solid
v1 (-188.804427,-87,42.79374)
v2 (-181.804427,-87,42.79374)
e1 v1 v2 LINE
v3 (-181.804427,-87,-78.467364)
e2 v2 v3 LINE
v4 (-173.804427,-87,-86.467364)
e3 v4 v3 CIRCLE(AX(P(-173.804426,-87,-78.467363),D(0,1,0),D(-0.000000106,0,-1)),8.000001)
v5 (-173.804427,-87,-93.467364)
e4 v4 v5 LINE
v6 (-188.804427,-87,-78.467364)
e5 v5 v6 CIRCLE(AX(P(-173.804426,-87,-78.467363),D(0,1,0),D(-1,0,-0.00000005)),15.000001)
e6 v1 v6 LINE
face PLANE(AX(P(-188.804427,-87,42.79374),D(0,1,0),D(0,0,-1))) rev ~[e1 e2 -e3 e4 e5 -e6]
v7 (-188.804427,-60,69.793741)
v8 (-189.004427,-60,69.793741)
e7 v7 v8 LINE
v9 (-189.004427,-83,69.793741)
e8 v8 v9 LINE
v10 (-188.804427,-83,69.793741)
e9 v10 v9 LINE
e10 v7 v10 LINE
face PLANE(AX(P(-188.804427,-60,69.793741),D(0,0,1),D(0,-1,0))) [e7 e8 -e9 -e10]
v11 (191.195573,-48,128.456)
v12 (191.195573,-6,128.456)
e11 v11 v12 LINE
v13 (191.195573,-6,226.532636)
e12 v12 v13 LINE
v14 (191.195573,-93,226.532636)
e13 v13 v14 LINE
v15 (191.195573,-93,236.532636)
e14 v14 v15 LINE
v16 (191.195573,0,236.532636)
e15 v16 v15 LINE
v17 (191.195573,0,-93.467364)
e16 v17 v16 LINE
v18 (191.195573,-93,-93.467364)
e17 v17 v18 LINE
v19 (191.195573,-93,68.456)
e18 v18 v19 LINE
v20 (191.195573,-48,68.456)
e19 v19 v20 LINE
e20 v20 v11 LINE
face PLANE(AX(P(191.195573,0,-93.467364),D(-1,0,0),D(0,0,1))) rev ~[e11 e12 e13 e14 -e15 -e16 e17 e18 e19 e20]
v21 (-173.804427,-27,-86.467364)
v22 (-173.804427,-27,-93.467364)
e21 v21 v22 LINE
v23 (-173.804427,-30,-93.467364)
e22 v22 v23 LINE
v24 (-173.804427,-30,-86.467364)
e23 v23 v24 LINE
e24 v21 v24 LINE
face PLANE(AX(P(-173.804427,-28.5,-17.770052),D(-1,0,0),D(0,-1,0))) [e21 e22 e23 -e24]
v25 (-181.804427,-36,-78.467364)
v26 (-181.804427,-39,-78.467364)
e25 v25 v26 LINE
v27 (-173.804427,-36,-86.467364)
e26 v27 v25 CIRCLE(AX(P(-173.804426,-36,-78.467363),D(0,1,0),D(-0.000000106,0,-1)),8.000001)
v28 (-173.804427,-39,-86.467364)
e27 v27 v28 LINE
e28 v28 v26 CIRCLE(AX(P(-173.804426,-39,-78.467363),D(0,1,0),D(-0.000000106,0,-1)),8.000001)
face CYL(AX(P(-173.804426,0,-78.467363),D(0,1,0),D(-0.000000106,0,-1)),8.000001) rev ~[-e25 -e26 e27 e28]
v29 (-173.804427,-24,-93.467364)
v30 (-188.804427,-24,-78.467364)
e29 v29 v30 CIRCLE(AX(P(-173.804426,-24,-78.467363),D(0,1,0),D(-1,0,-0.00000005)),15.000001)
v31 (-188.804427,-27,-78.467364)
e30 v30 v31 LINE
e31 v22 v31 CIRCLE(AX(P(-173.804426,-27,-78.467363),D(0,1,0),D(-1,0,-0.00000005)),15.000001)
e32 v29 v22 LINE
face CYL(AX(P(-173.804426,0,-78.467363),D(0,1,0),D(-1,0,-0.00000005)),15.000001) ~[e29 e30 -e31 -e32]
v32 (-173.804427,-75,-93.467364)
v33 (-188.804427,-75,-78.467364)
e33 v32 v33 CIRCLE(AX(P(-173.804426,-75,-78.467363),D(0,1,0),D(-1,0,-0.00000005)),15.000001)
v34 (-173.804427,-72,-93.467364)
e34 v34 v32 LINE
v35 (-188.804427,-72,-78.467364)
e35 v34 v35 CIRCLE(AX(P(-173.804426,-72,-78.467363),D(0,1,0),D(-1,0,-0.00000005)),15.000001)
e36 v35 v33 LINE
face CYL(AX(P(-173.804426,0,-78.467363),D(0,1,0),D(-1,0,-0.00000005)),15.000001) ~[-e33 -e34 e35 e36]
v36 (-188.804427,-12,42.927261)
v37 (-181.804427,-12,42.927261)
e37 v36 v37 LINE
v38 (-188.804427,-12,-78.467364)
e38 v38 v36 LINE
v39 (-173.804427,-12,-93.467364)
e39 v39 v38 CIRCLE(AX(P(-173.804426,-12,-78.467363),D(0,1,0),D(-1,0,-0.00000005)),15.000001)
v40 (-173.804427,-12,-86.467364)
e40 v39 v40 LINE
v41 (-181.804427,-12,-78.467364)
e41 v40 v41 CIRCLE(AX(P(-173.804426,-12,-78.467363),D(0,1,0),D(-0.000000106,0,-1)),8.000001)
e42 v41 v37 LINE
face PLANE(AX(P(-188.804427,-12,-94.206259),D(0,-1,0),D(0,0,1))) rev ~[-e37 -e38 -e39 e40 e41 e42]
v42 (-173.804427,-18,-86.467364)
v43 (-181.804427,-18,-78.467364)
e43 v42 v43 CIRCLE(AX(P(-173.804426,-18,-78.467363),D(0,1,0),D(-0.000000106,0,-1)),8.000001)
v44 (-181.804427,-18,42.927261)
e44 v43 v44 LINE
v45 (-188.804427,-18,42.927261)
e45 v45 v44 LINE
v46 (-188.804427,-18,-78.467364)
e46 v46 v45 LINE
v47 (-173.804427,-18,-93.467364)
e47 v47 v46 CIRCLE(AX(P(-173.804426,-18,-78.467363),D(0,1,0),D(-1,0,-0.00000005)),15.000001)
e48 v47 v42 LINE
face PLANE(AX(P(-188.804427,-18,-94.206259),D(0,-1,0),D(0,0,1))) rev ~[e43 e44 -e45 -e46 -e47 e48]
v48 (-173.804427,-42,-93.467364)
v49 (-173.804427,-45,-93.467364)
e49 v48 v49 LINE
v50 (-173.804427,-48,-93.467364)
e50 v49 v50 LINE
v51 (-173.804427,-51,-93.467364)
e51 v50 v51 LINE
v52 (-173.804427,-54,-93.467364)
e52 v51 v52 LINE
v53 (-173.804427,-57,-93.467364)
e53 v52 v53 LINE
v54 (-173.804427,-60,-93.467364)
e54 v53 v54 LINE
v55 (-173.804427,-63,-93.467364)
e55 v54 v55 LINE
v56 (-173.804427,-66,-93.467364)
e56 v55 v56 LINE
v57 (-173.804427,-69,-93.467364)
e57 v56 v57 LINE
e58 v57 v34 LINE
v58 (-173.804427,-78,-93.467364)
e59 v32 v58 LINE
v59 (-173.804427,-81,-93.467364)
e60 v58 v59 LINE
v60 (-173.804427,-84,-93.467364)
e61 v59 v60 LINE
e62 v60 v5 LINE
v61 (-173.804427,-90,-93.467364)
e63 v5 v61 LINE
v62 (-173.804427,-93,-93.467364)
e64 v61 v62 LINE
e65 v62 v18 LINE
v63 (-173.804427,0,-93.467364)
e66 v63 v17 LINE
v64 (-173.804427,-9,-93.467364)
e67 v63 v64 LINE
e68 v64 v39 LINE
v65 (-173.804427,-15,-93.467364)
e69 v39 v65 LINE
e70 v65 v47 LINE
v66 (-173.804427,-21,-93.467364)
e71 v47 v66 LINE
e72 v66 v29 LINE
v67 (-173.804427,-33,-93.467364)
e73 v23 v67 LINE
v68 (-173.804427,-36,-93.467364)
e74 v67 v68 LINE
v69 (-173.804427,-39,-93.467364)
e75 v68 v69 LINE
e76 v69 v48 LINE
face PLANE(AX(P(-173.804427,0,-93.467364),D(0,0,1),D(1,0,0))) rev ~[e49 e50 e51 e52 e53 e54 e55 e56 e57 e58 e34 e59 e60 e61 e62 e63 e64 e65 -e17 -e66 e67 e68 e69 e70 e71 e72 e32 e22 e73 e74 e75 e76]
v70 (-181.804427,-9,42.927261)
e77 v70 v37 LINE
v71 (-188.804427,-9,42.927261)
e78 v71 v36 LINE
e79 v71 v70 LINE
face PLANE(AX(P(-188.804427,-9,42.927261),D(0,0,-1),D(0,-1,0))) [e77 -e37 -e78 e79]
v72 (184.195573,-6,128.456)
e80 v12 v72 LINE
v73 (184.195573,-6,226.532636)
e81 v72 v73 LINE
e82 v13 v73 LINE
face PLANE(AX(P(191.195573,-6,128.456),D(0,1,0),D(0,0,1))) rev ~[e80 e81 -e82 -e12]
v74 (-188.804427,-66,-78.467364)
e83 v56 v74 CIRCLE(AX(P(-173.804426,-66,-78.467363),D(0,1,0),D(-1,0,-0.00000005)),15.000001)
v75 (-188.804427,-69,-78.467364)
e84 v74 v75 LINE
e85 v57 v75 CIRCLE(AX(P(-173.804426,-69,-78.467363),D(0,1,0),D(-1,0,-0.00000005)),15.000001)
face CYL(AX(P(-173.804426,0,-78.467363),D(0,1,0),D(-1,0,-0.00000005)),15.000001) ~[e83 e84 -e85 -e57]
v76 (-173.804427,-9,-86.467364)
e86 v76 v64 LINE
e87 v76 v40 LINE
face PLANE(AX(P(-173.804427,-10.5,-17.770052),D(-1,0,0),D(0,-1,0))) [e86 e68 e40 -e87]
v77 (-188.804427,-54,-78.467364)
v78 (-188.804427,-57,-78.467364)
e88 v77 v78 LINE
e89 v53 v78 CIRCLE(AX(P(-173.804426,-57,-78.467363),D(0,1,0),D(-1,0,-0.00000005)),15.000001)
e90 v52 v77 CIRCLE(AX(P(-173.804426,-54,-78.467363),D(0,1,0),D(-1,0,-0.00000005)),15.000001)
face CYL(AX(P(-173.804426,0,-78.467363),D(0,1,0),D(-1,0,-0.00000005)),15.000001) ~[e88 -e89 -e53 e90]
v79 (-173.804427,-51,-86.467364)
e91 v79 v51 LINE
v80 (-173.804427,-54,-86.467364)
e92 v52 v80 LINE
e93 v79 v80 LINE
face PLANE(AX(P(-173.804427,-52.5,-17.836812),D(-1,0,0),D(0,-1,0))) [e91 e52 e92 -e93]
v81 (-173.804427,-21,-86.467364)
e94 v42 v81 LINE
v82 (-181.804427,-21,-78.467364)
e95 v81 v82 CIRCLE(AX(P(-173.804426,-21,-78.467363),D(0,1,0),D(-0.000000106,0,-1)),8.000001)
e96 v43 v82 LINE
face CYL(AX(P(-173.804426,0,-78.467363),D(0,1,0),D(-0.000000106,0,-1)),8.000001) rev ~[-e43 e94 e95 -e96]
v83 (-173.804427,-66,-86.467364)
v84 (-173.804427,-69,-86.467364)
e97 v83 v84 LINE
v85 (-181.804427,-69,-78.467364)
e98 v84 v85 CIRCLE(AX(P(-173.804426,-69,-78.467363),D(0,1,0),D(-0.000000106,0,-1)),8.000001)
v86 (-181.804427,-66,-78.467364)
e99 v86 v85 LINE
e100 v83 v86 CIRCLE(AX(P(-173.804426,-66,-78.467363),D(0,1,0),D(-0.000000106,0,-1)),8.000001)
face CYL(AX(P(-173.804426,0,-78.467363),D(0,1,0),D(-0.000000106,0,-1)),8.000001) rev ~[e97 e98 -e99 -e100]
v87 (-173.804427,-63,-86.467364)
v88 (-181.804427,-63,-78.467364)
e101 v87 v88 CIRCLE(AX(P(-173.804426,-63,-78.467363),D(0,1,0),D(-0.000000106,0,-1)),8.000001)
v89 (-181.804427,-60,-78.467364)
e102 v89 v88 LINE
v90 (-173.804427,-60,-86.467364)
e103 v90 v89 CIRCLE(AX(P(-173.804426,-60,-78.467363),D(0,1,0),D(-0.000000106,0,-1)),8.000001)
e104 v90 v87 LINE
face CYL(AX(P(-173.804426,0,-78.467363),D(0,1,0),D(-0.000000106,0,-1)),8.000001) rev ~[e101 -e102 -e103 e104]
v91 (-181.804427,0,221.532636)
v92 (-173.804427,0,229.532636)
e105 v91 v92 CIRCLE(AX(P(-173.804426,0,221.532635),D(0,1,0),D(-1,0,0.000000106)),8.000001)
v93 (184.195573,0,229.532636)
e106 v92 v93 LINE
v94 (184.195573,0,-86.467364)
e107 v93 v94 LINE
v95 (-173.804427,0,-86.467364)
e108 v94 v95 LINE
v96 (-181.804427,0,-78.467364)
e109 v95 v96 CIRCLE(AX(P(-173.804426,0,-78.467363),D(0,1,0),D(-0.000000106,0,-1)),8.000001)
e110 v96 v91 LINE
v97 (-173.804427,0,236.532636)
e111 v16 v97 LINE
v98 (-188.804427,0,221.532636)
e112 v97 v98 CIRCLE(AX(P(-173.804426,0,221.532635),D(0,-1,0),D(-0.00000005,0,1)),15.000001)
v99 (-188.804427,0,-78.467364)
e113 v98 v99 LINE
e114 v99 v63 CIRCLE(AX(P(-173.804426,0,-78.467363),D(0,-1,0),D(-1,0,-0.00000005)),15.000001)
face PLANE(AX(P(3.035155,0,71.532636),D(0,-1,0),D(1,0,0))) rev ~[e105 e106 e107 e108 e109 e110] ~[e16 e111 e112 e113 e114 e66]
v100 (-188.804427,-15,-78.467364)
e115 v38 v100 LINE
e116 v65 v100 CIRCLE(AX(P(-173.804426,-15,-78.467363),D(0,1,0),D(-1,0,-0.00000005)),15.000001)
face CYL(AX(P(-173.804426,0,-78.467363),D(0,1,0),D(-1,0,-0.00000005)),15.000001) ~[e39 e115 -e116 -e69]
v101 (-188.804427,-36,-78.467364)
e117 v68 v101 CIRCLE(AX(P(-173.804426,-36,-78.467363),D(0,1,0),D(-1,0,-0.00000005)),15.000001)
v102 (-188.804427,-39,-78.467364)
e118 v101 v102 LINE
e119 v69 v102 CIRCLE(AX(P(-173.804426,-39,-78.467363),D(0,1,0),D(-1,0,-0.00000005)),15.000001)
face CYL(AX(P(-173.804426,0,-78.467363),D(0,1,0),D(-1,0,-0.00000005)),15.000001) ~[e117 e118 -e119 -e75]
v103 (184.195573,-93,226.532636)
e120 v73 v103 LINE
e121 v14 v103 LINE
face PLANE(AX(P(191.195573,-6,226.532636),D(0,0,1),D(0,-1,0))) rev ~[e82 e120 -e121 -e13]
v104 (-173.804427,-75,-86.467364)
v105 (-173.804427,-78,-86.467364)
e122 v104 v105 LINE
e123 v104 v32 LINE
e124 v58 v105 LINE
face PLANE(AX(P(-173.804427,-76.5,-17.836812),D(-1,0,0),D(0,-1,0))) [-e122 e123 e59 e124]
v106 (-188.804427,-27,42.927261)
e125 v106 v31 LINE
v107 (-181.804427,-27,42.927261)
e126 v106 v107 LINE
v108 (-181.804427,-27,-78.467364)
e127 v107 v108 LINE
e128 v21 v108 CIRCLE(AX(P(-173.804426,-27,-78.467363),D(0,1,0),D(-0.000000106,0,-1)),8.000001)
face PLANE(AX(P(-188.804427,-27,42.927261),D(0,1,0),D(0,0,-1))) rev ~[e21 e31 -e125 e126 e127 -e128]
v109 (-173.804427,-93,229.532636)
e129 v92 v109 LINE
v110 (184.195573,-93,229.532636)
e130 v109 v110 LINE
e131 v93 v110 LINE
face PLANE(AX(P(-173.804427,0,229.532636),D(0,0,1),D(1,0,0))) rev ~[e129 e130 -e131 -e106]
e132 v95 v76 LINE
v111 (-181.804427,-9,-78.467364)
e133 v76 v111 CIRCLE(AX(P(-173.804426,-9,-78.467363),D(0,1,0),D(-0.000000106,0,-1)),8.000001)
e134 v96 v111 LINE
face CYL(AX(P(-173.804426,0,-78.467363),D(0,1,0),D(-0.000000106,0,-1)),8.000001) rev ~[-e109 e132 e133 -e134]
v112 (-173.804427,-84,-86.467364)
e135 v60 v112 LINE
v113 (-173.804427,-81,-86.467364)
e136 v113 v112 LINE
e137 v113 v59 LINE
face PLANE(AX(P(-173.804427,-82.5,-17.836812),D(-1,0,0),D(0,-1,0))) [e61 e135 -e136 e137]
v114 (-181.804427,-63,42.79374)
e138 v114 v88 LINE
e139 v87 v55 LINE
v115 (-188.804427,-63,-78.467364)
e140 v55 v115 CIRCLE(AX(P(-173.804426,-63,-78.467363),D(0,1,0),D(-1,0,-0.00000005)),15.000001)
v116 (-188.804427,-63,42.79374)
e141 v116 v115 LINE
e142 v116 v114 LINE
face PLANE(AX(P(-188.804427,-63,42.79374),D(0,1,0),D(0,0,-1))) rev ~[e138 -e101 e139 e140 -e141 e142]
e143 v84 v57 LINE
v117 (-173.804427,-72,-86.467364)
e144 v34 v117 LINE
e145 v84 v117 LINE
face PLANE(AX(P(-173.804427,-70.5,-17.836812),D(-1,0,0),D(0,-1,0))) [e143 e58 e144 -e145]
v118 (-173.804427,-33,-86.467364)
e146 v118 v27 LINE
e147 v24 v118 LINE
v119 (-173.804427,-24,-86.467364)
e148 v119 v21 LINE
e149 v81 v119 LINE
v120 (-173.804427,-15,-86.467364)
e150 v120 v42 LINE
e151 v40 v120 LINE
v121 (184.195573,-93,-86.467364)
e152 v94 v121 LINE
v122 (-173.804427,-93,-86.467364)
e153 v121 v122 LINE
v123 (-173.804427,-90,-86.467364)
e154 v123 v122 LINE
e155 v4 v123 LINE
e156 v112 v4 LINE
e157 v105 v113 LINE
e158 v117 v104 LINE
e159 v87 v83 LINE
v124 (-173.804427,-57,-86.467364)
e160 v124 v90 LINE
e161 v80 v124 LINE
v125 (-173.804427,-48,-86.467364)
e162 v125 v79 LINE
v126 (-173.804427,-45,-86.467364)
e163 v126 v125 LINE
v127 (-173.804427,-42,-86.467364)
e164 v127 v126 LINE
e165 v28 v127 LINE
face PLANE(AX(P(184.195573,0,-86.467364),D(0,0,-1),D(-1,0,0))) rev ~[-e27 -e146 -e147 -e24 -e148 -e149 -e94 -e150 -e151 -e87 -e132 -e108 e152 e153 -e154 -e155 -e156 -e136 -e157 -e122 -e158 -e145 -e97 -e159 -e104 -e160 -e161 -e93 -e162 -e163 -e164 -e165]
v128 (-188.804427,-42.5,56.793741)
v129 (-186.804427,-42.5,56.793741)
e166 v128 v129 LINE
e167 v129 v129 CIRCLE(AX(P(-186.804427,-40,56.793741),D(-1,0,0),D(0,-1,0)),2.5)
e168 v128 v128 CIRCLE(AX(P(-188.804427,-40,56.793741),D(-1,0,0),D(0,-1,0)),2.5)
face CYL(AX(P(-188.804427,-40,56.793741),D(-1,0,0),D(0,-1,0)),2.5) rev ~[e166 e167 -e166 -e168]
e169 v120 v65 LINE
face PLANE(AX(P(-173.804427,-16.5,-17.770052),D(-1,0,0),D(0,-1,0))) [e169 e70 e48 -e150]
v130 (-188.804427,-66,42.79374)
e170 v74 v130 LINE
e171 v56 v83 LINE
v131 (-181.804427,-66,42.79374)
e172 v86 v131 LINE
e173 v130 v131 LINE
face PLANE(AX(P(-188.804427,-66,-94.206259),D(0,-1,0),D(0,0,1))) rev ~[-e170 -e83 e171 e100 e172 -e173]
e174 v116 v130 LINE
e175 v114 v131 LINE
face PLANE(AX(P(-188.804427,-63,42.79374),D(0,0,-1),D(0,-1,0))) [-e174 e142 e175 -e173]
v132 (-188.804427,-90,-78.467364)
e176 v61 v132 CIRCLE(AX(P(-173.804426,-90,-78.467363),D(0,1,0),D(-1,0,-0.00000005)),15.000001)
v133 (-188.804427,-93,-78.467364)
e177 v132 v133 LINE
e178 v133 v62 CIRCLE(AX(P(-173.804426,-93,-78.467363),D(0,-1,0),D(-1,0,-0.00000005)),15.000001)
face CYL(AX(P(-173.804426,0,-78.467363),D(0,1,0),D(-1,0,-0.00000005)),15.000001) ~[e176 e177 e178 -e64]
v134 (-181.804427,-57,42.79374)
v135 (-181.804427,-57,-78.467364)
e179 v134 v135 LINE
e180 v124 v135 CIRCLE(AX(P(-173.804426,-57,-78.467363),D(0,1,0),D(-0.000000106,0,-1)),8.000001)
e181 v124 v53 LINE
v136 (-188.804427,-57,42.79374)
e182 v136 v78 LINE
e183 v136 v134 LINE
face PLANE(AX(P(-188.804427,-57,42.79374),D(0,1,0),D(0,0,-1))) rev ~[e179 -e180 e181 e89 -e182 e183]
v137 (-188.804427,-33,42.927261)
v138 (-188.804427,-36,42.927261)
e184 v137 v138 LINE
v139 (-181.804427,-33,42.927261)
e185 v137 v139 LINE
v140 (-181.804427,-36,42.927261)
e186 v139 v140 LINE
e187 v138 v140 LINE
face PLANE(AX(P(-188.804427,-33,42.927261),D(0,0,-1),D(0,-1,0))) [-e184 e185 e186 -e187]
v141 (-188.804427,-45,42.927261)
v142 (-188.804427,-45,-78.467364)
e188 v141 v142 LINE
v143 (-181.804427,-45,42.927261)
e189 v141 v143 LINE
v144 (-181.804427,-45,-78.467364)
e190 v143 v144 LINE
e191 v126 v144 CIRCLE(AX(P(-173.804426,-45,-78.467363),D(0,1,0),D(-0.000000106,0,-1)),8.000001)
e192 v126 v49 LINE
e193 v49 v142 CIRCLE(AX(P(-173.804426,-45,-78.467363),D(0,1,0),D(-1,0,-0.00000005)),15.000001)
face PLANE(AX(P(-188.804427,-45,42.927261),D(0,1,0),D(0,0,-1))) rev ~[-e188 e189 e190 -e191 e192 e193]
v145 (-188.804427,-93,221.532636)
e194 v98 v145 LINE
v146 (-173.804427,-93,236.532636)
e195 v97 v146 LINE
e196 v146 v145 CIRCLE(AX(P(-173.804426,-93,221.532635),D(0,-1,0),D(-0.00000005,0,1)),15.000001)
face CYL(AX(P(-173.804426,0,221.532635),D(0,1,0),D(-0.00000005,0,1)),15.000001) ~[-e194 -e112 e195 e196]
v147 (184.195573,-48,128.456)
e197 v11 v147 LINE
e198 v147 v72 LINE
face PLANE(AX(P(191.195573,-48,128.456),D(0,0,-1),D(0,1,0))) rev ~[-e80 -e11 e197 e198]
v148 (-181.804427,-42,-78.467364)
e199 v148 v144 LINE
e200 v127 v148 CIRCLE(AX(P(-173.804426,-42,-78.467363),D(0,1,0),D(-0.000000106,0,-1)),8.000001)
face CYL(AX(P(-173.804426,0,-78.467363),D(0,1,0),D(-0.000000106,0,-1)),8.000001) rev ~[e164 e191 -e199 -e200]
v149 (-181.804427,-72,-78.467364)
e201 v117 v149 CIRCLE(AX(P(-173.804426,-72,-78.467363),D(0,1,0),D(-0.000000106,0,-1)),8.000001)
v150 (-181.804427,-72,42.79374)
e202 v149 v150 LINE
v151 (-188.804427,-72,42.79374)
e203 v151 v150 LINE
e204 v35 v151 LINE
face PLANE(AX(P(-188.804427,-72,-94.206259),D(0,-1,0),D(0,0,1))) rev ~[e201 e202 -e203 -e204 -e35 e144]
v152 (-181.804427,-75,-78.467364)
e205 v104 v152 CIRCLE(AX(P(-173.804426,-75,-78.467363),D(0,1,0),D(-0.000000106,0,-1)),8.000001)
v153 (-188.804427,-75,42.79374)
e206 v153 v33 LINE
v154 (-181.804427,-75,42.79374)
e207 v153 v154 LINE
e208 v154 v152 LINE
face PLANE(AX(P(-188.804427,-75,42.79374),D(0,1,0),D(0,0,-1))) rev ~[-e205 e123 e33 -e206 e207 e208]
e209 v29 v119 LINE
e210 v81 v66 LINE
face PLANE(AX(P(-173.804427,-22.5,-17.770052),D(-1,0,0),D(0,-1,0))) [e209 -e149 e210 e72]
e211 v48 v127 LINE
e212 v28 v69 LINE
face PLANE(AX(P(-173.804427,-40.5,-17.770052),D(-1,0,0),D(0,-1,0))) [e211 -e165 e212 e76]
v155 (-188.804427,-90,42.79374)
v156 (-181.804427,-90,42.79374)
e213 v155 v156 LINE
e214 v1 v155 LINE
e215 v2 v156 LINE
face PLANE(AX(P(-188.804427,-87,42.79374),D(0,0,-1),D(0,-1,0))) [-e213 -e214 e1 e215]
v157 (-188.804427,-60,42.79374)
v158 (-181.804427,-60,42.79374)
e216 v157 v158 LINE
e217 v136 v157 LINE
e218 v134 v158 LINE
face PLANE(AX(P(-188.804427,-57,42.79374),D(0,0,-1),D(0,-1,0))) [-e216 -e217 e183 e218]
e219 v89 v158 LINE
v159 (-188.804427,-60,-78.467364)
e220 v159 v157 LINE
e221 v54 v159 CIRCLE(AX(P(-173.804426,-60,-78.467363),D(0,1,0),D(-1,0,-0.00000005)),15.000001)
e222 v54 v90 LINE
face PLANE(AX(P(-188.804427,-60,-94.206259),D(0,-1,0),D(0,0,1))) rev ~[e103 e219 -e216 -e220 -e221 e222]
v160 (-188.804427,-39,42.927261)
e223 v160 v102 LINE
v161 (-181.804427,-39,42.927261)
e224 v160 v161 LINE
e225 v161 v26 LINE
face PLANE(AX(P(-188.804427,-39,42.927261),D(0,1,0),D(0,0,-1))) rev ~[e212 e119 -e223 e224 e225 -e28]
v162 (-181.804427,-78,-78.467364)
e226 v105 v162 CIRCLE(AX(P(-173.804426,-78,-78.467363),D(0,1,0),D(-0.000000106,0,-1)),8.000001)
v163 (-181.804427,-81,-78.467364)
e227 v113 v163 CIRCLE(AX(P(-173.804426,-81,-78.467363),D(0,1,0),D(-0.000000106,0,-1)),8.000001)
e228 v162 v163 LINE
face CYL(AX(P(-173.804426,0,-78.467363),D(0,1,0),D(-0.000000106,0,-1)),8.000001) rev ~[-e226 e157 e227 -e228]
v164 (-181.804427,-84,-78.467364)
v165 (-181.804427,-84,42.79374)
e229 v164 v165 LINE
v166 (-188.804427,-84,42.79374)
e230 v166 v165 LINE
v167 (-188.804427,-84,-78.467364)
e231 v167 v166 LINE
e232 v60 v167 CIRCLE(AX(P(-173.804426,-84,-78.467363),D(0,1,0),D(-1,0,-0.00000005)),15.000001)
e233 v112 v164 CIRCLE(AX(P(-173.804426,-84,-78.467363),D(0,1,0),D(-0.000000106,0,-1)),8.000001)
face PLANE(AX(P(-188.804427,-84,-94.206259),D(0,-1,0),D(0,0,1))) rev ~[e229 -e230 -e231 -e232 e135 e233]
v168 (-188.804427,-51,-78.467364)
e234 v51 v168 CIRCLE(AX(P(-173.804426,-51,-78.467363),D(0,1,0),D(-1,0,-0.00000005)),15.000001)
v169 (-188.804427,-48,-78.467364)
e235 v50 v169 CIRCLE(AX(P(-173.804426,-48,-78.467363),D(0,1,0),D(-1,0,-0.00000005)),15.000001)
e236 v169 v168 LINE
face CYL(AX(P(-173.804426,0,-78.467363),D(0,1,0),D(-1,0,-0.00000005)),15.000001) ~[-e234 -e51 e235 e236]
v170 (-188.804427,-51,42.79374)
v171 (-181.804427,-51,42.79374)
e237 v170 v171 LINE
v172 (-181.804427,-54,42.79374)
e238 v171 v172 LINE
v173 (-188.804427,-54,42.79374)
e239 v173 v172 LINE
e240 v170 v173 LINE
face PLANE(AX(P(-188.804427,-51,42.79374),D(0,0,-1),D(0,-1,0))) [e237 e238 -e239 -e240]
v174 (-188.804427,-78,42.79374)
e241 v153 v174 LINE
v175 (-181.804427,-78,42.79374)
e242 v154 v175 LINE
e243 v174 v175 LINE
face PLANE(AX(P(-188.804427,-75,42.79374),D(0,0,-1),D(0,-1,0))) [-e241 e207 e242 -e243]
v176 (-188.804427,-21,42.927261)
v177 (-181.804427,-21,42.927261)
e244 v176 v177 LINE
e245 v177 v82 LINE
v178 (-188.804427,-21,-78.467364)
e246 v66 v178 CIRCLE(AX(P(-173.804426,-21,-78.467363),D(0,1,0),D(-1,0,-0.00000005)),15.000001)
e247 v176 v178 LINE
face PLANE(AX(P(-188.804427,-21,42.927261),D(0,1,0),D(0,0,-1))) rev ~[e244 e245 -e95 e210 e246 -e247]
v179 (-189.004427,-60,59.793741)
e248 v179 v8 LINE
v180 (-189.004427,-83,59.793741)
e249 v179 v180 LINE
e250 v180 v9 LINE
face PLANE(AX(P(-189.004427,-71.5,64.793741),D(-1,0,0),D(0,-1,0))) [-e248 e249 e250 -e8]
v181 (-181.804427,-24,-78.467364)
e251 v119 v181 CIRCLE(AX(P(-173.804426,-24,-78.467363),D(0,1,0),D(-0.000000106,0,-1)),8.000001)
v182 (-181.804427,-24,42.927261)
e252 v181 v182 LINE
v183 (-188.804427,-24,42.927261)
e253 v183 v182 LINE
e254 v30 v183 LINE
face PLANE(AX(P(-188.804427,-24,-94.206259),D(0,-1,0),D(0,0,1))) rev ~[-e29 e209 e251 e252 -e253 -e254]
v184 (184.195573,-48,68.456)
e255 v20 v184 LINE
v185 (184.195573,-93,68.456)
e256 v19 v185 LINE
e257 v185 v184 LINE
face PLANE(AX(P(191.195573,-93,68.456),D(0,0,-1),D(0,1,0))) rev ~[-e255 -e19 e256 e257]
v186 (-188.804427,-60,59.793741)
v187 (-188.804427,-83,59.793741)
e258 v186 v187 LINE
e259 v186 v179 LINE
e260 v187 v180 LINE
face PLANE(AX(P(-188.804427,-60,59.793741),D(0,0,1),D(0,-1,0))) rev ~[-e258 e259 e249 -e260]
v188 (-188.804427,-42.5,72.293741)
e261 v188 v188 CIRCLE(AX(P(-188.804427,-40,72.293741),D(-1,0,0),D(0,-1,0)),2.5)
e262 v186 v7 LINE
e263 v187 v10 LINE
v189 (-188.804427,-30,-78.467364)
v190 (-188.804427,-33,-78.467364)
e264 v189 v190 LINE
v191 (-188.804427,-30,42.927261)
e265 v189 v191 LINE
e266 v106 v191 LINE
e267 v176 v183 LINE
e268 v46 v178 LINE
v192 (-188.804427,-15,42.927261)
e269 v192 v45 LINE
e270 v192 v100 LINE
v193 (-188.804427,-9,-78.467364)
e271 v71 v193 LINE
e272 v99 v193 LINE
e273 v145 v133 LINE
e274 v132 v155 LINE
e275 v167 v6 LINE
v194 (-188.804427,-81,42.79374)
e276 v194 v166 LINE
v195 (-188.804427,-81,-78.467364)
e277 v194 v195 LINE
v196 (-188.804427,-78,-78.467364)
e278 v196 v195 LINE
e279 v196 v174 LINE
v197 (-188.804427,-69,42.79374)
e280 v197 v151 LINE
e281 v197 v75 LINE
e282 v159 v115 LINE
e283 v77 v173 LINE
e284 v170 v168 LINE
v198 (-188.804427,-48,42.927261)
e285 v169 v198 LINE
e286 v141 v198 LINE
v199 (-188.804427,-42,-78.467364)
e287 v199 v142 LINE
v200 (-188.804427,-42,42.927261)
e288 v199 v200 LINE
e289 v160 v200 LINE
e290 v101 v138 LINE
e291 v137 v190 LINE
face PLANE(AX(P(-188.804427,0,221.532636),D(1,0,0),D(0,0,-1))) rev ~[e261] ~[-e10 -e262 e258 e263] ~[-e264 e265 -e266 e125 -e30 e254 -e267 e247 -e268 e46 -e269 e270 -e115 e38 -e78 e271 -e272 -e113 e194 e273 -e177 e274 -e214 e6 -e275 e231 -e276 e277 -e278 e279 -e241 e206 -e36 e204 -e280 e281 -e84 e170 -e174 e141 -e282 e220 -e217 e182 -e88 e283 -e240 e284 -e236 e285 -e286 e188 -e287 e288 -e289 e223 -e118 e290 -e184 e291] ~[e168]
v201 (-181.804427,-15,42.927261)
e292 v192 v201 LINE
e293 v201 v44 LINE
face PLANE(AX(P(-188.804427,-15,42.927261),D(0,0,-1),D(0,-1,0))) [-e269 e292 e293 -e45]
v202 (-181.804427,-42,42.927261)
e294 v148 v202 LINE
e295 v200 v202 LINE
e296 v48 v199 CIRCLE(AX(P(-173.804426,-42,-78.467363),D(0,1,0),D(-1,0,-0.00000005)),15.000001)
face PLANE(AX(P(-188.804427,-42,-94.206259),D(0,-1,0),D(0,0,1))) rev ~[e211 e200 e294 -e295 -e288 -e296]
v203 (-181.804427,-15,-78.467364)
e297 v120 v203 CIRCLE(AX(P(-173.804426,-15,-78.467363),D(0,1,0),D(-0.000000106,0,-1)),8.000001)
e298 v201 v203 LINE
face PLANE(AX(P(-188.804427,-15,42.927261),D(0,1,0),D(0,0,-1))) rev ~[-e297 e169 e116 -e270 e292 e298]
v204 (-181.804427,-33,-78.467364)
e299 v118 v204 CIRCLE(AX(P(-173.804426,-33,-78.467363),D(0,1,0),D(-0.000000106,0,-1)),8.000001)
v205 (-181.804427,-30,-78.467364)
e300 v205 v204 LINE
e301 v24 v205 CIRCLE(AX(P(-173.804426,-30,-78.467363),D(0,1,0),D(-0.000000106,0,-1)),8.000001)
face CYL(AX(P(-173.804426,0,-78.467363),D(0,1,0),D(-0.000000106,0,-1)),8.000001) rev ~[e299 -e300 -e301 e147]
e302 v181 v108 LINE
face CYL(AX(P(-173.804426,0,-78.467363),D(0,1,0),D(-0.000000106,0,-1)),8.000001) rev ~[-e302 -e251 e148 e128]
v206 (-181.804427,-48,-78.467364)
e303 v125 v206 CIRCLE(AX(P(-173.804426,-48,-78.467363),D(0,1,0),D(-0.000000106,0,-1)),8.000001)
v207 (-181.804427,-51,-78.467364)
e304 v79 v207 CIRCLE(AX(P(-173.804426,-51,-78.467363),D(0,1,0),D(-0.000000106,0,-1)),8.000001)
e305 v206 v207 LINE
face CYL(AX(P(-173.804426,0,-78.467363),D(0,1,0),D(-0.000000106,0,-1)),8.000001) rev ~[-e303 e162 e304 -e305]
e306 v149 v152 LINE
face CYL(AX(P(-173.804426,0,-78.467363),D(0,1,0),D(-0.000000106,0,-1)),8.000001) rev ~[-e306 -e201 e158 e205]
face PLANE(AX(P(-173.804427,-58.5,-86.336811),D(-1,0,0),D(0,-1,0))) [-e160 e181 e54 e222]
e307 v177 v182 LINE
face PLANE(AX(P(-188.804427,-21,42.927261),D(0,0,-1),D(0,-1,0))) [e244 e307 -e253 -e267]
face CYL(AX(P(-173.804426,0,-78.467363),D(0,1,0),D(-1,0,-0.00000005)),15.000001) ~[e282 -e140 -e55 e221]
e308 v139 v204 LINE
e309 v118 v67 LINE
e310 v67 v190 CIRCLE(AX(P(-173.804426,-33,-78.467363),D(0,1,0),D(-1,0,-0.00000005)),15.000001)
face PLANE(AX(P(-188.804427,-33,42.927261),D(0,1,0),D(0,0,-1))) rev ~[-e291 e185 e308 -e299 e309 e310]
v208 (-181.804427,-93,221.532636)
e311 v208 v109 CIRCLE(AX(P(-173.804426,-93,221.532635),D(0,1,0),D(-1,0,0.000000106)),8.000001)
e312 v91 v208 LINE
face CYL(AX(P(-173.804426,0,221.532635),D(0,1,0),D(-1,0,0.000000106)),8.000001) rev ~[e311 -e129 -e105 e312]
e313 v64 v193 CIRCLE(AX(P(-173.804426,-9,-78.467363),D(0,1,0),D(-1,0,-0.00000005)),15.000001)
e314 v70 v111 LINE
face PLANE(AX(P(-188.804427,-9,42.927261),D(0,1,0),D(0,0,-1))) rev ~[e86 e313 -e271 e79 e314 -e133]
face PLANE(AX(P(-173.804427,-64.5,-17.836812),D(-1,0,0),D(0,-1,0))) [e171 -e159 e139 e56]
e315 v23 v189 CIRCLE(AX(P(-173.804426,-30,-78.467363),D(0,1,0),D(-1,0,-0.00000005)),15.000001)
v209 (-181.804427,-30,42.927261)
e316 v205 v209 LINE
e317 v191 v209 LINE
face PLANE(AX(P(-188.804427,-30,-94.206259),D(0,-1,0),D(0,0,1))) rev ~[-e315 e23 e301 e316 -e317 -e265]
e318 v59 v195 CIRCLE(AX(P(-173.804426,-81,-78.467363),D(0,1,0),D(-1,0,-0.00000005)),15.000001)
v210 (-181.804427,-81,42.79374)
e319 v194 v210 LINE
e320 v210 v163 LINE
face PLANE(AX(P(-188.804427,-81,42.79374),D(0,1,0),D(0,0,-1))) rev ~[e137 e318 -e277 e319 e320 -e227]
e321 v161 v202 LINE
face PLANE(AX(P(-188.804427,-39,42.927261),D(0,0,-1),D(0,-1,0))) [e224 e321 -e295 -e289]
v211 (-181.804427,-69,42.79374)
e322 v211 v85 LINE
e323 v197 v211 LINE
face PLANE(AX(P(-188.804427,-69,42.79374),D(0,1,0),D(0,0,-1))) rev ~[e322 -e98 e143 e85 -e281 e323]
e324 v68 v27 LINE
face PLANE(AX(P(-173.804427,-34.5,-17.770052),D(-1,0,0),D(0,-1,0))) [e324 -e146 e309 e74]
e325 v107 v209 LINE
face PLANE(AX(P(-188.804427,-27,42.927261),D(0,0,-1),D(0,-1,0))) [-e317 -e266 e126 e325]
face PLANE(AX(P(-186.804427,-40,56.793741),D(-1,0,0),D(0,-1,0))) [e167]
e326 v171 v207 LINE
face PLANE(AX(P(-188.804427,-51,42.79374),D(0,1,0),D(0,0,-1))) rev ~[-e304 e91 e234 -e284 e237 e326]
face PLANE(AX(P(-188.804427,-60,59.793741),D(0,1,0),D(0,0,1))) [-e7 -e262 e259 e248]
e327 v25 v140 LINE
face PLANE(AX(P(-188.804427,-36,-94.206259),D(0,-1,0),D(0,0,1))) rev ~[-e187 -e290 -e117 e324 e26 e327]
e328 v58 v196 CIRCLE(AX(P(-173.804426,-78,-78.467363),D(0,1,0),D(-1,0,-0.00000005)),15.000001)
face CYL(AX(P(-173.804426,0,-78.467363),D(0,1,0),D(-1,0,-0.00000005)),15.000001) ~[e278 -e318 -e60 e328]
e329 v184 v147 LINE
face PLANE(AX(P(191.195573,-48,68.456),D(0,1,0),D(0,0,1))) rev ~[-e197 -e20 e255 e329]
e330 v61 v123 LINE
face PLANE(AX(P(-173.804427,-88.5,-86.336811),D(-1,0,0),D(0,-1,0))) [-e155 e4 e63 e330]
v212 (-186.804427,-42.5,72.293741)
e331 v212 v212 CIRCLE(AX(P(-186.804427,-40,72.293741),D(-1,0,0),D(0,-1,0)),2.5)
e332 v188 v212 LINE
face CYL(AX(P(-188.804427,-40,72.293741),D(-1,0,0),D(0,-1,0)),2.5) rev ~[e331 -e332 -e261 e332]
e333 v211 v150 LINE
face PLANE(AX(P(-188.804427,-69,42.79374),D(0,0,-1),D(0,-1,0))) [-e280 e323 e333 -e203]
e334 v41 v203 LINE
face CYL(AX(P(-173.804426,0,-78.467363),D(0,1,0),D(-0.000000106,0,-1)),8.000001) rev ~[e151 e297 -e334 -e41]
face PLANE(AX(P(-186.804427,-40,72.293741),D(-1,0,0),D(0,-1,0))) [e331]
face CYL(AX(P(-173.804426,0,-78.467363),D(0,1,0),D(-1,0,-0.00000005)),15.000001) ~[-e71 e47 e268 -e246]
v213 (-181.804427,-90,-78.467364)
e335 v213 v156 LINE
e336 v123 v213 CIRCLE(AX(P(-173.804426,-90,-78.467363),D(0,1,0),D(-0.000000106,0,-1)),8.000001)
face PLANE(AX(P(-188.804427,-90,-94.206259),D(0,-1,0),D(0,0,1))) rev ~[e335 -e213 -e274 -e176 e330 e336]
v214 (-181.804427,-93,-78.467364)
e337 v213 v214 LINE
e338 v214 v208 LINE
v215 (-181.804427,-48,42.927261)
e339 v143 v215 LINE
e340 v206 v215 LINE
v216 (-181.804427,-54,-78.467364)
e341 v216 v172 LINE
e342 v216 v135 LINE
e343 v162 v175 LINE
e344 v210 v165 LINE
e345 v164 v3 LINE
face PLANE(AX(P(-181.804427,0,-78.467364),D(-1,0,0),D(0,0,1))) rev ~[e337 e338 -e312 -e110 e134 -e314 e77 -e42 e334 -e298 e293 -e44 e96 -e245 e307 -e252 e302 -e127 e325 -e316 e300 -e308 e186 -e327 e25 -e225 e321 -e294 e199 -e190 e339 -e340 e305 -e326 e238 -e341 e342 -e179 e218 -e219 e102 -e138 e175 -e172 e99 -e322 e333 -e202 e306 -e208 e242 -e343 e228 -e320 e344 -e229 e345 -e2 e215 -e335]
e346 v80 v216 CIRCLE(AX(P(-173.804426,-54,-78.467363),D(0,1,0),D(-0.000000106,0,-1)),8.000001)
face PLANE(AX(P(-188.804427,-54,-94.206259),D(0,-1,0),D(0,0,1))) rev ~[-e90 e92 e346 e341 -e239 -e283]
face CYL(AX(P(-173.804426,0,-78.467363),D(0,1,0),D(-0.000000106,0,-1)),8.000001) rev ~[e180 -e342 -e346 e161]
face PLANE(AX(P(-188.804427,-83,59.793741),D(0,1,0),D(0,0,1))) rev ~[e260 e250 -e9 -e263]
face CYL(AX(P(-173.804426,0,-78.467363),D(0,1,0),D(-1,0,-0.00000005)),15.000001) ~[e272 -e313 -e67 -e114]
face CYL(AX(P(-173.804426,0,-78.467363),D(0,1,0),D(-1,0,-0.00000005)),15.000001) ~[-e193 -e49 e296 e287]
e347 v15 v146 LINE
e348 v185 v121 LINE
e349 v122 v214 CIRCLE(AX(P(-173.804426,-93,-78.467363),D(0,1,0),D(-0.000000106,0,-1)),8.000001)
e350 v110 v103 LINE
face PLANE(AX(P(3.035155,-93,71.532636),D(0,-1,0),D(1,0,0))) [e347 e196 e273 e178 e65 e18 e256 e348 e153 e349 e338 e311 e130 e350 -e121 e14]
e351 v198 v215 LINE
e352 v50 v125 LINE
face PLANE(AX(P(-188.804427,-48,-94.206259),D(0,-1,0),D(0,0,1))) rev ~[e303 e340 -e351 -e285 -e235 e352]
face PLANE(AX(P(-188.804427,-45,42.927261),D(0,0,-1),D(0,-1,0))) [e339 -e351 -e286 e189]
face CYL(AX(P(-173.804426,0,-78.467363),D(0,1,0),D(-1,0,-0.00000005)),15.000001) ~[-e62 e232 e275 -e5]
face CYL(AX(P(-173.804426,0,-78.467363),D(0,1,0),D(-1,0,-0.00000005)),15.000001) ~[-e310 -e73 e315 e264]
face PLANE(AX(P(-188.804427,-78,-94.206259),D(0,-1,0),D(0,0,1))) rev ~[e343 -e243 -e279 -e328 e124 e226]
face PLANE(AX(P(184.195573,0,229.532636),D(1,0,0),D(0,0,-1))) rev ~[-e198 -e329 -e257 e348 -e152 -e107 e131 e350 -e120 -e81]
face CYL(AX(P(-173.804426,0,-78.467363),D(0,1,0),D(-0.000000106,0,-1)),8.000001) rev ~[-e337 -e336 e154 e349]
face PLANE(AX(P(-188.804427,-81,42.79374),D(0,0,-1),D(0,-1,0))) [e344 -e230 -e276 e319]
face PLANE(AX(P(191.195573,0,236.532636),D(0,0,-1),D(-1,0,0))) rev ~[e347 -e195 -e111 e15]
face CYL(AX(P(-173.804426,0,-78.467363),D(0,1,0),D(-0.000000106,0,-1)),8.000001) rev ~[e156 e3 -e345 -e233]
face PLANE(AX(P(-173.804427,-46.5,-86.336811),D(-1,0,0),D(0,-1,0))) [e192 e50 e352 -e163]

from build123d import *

# Parameters (mm, degrees)
F1_DEPTH  = 93
F3_DEPTH  = 25
F4_W      = 3
F4_H      = 15.738895
F4_H_2    = 121.261105
F5_DEPTH  = 15
F6_DEPTH  = 15
F7_DEPTH  = 15
F8_DEPTH  = 15
F9_DEPTH  = 15
F10_DEPTH = 15
F11_DEPTH = 15
F4_H_3    = 121.394625
F12_DEPTH = 15
F13_DEPTH = 15
F14_DEPTH = 15
F15_DEPTH = 15
F16_DEPTH = 15
F17_DEPTH = 15
F18_DEPTH = 15
F19_DEPTH = 15
F20_W     = 23
F20_H     = 10
F21_DEPTH = 0.2
F22_R     = 2.5
F23_DEPTH = 2
F24_DEPTH = 2


with BuildPart() as f1:
    # F0 (on Front) → F1 (new body)
    with BuildSketch(Plane.XZ):
        with BuildLine():
            Line((191.195573, 236.532636), (-173.804427, 236.532636))
            ThreePointArc((-173.804427, 236.532636), (-184.411028, 232.139238), (-188.804427, 221.532636))
            Line((-188.804427, 221.532636), (-188.804427, -78.467364))
            ThreePointArc((-188.804427, -78.467364), (-184.411028, -89.073966), (-173.804427, -93.467364))
            Line((-173.804427, -93.467364), (191.195573, -93.467364))
            Line((191.195573, -93.467364), (191.195573, 236.532636))
        make_face()
        with BuildLine():
            ThreePointArc((-181.804427, 221.532636), (-179.461281, 227.18949), (-173.804427, 229.532636))
            Line((-173.804427, 229.532636), (184.195573, 229.532636))
            Line((184.195573, 229.532636), (184.195573, -86.467364))
            Line((184.195573, -86.467364), (-173.804427, -86.467364))
            ThreePointArc((-173.804427, -86.467364), (-179.461281, -84.124218), (-181.804427, -78.467364))
            Line((-181.804427, -78.467364), (-181.804427, 221.532636))
        make_face(mode=Mode.SUBTRACT)
    extrude(amount=F1_DEPTH)

    # F2 (on face) → F3 (cut)
    with BuildSketch(Plane.YZ.offset(191.195573)):
        Polygon((-6, 128.456), (-6, 226.532636), (-93, 226.532636), (-93, 68.456), (-48, 68.456), (-48, 128.456), align=None)
    extrude(amount=-F3_DEPTH, mode=Mode.SUBTRACT)

    # F4 (on face) → F5 (cut)
    with BuildSketch(Plane(origin=(-188.804427, 0, 0), x_dir=(0, -1, 0), z_dir=(-1, 0, 0))):
        with Locations((88.5, -86.336811)):
            Rectangle(F4_W, F4_H)
        with Locations((88.5, -17.836812)):
            Rectangle(F4_W, F4_H_2)
    extrude(amount=-F5_DEPTH, mode=Mode.SUBTRACT)

    # F4 (on face) → F6 (cut)
    with BuildSketch(Plane(origin=(-188.804427, 0, 0), x_dir=(0, -1, 0), z_dir=(-1, 0, 0))):
        with Locations((82.5, -17.836812)):
            Rectangle(F4_W, F4_H_2)
        with Locations((82.5, -86.336811)):
            Rectangle(F4_W, F4_H)
    extrude(amount=-F6_DEPTH, mode=Mode.SUBTRACT)

    # F4 (on face) → F7 (cut)
    with BuildSketch(Plane(origin=(-188.804427, 0, 0), x_dir=(0, -1, 0), z_dir=(-1, 0, 0))):
        with Locations((76.5, -17.836812)):
            Rectangle(F4_W, F4_H_2)
        with Locations((76.5, -86.336811)):
            Rectangle(F4_W, F4_H)
    extrude(amount=-F7_DEPTH, mode=Mode.SUBTRACT)

    # F4 (on face) → F8 (cut)
    with BuildSketch(Plane(origin=(-188.804427, 0, 0), x_dir=(0, -1, 0), z_dir=(-1, 0, 0))):
        with Locations((70.5, -17.836812)):
            Rectangle(F4_W, F4_H_2)
        with Locations((70.5, -86.336811)):
            Rectangle(F4_W, F4_H)
    extrude(amount=-F8_DEPTH, mode=Mode.SUBTRACT)

    # F4 (on face) → F9 (cut)
    with BuildSketch(Plane(origin=(-188.804427, 0, 0), x_dir=(0, -1, 0), z_dir=(-1, 0, 0))):
        with Locations((64.5, -17.836812)):
            Rectangle(F4_W, F4_H_2)
        with Locations((64.5, -86.336811)):
            Rectangle(F4_W, F4_H)
    extrude(amount=-F9_DEPTH, mode=Mode.SUBTRACT)

    # F4 (on face) → F10 (cut)
    with BuildSketch(Plane(origin=(-188.804427, 0, 0), x_dir=(0, -1, 0), z_dir=(-1, 0, 0))):
        with Locations((58.5, -86.336811)):
            Rectangle(F4_W, F4_H)
        with Locations((58.5, -17.836812)):
            Rectangle(F4_W, F4_H_2)
    extrude(amount=-F10_DEPTH, mode=Mode.SUBTRACT)

    # F4 (on face) → F11 (cut)
    with BuildSketch(Plane(origin=(-188.804427, 0, 0), x_dir=(0, -1, 0), z_dir=(-1, 0, 0))):
        with Locations((52.5, -17.836812)):
            Rectangle(F4_W, F4_H_2)
        with Locations((52.5, -86.336811)):
            Rectangle(F4_W, F4_H)
    extrude(amount=-F11_DEPTH, mode=Mode.SUBTRACT)

    # F4 (on face) → F12 (cut)
    with BuildSketch(Plane(origin=(-188.804427, 0, 0), x_dir=(0, -1, 0), z_dir=(-1, 0, 0))):
        with Locations((46.5, -86.336811)):
            Rectangle(F4_W, F4_H)
        with Locations((46.5, -17.770052)):
            Rectangle(F4_W, F4_H_3)
    extrude(amount=-F12_DEPTH, mode=Mode.SUBTRACT)

    # F4 (on face) → F13 (cut)
    with BuildSketch(Plane(origin=(-188.804427, 0, 0), x_dir=(0, -1, 0), z_dir=(-1, 0, 0))):
        with Locations((40.5, -17.770052)):
            Rectangle(F4_W, F4_H_3)
        with Locations((40.5, -86.336811)):
            Rectangle(F4_W, F4_H)
    extrude(amount=-F13_DEPTH, mode=Mode.SUBTRACT)

    # F4 (on face) → F14 (cut)
    with BuildSketch(Plane(origin=(-188.804427, 0, 0), x_dir=(0, -1, 0), z_dir=(-1, 0, 0))):
        with Locations((40.5, -17.770052)):
            Rectangle(F4_W, F4_H_3)
        with Locations((40.5, -86.336811)):
            Rectangle(F4_W, F4_H)
    extrude(amount=-F14_DEPTH, mode=Mode.SUBTRACT)

    # F4 (on face) → F15 (cut)
    with BuildSketch(Plane(origin=(-188.804427, 0, 0), x_dir=(0, -1, 0), z_dir=(-1, 0, 0))):
        with Locations((34.5, -17.770052)):
            Rectangle(F4_W, F4_H_3)
        with Locations((34.5, -86.336811)):
            Rectangle(F4_W, F4_H)
    extrude(amount=-F15_DEPTH, mode=Mode.SUBTRACT)

    # F4 (on face) → F16 (cut)
    with BuildSketch(Plane(origin=(-188.804427, 0, 0), x_dir=(0, -1, 0), z_dir=(-1, 0, 0))):
        with Locations((28.5, -17.770052)):
            Rectangle(F4_W, F4_H_3)
        with Locations((28.5, -86.336811)):
            Rectangle(F4_W, F4_H)
    extrude(amount=-F16_DEPTH, mode=Mode.SUBTRACT)

    # F4 (on face) → F17 (cut)
    with BuildSketch(Plane(origin=(-188.804427, 0, 0), x_dir=(0, -1, 0), z_dir=(-1, 0, 0))):
        with Locations((22.5, -17.770052)):
            Rectangle(F4_W, F4_H_3)
        with Locations((22.5, -86.336811)):
            Rectangle(F4_W, F4_H)
    extrude(amount=-F17_DEPTH, mode=Mode.SUBTRACT)

    # F4 (on face) → F18 (cut)
    with BuildSketch(Plane(origin=(-188.804427, 0, 0), x_dir=(0, -1, 0), z_dir=(-1, 0, 0))):
        with Locations((16.5, -17.770052)):
            Rectangle(F4_W, F4_H_3)
        with Locations((16.5, -86.336811)):
            Rectangle(F4_W, F4_H)
    extrude(amount=-F18_DEPTH, mode=Mode.SUBTRACT)

    # F4 (on face) → F19 (cut)
    with BuildSketch(Plane(origin=(-188.804427, 0, 0), x_dir=(0, -1, 0), z_dir=(-1, 0, 0))):
        with Locations((10.5, -17.770052)):
            Rectangle(F4_W, F4_H_3)
        with Locations((10.5, -86.336811)):
            Rectangle(F4_W, F4_H)
    extrude(amount=-F19_DEPTH, mode=Mode.SUBTRACT)

    # F20 (on face) → F21 (join)
    with BuildSketch(Plane(origin=(-188.804427, 0, 0), x_dir=(0, -1, 0), z_dir=(-1, 0, 0))):
        with Locations((71.5, 64.793741)):
            Rectangle(F20_W, F20_H)
    extrude(amount=F21_DEPTH)

    # F22 (on face) → F23 (cut)
    with BuildSketch(Plane(origin=(-188.804427, 0, 0), x_dir=(0, -1, 0), z_dir=(-1, 0, 0))):
        with Locations((40, 56.793741)):
            Circle(F22_R)
    extrude(amount=-F23_DEPTH, mode=Mode.SUBTRACT)

    # F22 (on face) → F24 (cut)
    with BuildSketch(Plane(origin=(-188.804427, 0, 0), x_dir=(0, -1, 0), z_dir=(-1, 0, 0))):
        with Locations((40, 72.293741)):
            Circle(F22_R)
    extrude(amount=-F24_DEPTH, mode=Mode.SUBTRACT)


solid = f1.part
